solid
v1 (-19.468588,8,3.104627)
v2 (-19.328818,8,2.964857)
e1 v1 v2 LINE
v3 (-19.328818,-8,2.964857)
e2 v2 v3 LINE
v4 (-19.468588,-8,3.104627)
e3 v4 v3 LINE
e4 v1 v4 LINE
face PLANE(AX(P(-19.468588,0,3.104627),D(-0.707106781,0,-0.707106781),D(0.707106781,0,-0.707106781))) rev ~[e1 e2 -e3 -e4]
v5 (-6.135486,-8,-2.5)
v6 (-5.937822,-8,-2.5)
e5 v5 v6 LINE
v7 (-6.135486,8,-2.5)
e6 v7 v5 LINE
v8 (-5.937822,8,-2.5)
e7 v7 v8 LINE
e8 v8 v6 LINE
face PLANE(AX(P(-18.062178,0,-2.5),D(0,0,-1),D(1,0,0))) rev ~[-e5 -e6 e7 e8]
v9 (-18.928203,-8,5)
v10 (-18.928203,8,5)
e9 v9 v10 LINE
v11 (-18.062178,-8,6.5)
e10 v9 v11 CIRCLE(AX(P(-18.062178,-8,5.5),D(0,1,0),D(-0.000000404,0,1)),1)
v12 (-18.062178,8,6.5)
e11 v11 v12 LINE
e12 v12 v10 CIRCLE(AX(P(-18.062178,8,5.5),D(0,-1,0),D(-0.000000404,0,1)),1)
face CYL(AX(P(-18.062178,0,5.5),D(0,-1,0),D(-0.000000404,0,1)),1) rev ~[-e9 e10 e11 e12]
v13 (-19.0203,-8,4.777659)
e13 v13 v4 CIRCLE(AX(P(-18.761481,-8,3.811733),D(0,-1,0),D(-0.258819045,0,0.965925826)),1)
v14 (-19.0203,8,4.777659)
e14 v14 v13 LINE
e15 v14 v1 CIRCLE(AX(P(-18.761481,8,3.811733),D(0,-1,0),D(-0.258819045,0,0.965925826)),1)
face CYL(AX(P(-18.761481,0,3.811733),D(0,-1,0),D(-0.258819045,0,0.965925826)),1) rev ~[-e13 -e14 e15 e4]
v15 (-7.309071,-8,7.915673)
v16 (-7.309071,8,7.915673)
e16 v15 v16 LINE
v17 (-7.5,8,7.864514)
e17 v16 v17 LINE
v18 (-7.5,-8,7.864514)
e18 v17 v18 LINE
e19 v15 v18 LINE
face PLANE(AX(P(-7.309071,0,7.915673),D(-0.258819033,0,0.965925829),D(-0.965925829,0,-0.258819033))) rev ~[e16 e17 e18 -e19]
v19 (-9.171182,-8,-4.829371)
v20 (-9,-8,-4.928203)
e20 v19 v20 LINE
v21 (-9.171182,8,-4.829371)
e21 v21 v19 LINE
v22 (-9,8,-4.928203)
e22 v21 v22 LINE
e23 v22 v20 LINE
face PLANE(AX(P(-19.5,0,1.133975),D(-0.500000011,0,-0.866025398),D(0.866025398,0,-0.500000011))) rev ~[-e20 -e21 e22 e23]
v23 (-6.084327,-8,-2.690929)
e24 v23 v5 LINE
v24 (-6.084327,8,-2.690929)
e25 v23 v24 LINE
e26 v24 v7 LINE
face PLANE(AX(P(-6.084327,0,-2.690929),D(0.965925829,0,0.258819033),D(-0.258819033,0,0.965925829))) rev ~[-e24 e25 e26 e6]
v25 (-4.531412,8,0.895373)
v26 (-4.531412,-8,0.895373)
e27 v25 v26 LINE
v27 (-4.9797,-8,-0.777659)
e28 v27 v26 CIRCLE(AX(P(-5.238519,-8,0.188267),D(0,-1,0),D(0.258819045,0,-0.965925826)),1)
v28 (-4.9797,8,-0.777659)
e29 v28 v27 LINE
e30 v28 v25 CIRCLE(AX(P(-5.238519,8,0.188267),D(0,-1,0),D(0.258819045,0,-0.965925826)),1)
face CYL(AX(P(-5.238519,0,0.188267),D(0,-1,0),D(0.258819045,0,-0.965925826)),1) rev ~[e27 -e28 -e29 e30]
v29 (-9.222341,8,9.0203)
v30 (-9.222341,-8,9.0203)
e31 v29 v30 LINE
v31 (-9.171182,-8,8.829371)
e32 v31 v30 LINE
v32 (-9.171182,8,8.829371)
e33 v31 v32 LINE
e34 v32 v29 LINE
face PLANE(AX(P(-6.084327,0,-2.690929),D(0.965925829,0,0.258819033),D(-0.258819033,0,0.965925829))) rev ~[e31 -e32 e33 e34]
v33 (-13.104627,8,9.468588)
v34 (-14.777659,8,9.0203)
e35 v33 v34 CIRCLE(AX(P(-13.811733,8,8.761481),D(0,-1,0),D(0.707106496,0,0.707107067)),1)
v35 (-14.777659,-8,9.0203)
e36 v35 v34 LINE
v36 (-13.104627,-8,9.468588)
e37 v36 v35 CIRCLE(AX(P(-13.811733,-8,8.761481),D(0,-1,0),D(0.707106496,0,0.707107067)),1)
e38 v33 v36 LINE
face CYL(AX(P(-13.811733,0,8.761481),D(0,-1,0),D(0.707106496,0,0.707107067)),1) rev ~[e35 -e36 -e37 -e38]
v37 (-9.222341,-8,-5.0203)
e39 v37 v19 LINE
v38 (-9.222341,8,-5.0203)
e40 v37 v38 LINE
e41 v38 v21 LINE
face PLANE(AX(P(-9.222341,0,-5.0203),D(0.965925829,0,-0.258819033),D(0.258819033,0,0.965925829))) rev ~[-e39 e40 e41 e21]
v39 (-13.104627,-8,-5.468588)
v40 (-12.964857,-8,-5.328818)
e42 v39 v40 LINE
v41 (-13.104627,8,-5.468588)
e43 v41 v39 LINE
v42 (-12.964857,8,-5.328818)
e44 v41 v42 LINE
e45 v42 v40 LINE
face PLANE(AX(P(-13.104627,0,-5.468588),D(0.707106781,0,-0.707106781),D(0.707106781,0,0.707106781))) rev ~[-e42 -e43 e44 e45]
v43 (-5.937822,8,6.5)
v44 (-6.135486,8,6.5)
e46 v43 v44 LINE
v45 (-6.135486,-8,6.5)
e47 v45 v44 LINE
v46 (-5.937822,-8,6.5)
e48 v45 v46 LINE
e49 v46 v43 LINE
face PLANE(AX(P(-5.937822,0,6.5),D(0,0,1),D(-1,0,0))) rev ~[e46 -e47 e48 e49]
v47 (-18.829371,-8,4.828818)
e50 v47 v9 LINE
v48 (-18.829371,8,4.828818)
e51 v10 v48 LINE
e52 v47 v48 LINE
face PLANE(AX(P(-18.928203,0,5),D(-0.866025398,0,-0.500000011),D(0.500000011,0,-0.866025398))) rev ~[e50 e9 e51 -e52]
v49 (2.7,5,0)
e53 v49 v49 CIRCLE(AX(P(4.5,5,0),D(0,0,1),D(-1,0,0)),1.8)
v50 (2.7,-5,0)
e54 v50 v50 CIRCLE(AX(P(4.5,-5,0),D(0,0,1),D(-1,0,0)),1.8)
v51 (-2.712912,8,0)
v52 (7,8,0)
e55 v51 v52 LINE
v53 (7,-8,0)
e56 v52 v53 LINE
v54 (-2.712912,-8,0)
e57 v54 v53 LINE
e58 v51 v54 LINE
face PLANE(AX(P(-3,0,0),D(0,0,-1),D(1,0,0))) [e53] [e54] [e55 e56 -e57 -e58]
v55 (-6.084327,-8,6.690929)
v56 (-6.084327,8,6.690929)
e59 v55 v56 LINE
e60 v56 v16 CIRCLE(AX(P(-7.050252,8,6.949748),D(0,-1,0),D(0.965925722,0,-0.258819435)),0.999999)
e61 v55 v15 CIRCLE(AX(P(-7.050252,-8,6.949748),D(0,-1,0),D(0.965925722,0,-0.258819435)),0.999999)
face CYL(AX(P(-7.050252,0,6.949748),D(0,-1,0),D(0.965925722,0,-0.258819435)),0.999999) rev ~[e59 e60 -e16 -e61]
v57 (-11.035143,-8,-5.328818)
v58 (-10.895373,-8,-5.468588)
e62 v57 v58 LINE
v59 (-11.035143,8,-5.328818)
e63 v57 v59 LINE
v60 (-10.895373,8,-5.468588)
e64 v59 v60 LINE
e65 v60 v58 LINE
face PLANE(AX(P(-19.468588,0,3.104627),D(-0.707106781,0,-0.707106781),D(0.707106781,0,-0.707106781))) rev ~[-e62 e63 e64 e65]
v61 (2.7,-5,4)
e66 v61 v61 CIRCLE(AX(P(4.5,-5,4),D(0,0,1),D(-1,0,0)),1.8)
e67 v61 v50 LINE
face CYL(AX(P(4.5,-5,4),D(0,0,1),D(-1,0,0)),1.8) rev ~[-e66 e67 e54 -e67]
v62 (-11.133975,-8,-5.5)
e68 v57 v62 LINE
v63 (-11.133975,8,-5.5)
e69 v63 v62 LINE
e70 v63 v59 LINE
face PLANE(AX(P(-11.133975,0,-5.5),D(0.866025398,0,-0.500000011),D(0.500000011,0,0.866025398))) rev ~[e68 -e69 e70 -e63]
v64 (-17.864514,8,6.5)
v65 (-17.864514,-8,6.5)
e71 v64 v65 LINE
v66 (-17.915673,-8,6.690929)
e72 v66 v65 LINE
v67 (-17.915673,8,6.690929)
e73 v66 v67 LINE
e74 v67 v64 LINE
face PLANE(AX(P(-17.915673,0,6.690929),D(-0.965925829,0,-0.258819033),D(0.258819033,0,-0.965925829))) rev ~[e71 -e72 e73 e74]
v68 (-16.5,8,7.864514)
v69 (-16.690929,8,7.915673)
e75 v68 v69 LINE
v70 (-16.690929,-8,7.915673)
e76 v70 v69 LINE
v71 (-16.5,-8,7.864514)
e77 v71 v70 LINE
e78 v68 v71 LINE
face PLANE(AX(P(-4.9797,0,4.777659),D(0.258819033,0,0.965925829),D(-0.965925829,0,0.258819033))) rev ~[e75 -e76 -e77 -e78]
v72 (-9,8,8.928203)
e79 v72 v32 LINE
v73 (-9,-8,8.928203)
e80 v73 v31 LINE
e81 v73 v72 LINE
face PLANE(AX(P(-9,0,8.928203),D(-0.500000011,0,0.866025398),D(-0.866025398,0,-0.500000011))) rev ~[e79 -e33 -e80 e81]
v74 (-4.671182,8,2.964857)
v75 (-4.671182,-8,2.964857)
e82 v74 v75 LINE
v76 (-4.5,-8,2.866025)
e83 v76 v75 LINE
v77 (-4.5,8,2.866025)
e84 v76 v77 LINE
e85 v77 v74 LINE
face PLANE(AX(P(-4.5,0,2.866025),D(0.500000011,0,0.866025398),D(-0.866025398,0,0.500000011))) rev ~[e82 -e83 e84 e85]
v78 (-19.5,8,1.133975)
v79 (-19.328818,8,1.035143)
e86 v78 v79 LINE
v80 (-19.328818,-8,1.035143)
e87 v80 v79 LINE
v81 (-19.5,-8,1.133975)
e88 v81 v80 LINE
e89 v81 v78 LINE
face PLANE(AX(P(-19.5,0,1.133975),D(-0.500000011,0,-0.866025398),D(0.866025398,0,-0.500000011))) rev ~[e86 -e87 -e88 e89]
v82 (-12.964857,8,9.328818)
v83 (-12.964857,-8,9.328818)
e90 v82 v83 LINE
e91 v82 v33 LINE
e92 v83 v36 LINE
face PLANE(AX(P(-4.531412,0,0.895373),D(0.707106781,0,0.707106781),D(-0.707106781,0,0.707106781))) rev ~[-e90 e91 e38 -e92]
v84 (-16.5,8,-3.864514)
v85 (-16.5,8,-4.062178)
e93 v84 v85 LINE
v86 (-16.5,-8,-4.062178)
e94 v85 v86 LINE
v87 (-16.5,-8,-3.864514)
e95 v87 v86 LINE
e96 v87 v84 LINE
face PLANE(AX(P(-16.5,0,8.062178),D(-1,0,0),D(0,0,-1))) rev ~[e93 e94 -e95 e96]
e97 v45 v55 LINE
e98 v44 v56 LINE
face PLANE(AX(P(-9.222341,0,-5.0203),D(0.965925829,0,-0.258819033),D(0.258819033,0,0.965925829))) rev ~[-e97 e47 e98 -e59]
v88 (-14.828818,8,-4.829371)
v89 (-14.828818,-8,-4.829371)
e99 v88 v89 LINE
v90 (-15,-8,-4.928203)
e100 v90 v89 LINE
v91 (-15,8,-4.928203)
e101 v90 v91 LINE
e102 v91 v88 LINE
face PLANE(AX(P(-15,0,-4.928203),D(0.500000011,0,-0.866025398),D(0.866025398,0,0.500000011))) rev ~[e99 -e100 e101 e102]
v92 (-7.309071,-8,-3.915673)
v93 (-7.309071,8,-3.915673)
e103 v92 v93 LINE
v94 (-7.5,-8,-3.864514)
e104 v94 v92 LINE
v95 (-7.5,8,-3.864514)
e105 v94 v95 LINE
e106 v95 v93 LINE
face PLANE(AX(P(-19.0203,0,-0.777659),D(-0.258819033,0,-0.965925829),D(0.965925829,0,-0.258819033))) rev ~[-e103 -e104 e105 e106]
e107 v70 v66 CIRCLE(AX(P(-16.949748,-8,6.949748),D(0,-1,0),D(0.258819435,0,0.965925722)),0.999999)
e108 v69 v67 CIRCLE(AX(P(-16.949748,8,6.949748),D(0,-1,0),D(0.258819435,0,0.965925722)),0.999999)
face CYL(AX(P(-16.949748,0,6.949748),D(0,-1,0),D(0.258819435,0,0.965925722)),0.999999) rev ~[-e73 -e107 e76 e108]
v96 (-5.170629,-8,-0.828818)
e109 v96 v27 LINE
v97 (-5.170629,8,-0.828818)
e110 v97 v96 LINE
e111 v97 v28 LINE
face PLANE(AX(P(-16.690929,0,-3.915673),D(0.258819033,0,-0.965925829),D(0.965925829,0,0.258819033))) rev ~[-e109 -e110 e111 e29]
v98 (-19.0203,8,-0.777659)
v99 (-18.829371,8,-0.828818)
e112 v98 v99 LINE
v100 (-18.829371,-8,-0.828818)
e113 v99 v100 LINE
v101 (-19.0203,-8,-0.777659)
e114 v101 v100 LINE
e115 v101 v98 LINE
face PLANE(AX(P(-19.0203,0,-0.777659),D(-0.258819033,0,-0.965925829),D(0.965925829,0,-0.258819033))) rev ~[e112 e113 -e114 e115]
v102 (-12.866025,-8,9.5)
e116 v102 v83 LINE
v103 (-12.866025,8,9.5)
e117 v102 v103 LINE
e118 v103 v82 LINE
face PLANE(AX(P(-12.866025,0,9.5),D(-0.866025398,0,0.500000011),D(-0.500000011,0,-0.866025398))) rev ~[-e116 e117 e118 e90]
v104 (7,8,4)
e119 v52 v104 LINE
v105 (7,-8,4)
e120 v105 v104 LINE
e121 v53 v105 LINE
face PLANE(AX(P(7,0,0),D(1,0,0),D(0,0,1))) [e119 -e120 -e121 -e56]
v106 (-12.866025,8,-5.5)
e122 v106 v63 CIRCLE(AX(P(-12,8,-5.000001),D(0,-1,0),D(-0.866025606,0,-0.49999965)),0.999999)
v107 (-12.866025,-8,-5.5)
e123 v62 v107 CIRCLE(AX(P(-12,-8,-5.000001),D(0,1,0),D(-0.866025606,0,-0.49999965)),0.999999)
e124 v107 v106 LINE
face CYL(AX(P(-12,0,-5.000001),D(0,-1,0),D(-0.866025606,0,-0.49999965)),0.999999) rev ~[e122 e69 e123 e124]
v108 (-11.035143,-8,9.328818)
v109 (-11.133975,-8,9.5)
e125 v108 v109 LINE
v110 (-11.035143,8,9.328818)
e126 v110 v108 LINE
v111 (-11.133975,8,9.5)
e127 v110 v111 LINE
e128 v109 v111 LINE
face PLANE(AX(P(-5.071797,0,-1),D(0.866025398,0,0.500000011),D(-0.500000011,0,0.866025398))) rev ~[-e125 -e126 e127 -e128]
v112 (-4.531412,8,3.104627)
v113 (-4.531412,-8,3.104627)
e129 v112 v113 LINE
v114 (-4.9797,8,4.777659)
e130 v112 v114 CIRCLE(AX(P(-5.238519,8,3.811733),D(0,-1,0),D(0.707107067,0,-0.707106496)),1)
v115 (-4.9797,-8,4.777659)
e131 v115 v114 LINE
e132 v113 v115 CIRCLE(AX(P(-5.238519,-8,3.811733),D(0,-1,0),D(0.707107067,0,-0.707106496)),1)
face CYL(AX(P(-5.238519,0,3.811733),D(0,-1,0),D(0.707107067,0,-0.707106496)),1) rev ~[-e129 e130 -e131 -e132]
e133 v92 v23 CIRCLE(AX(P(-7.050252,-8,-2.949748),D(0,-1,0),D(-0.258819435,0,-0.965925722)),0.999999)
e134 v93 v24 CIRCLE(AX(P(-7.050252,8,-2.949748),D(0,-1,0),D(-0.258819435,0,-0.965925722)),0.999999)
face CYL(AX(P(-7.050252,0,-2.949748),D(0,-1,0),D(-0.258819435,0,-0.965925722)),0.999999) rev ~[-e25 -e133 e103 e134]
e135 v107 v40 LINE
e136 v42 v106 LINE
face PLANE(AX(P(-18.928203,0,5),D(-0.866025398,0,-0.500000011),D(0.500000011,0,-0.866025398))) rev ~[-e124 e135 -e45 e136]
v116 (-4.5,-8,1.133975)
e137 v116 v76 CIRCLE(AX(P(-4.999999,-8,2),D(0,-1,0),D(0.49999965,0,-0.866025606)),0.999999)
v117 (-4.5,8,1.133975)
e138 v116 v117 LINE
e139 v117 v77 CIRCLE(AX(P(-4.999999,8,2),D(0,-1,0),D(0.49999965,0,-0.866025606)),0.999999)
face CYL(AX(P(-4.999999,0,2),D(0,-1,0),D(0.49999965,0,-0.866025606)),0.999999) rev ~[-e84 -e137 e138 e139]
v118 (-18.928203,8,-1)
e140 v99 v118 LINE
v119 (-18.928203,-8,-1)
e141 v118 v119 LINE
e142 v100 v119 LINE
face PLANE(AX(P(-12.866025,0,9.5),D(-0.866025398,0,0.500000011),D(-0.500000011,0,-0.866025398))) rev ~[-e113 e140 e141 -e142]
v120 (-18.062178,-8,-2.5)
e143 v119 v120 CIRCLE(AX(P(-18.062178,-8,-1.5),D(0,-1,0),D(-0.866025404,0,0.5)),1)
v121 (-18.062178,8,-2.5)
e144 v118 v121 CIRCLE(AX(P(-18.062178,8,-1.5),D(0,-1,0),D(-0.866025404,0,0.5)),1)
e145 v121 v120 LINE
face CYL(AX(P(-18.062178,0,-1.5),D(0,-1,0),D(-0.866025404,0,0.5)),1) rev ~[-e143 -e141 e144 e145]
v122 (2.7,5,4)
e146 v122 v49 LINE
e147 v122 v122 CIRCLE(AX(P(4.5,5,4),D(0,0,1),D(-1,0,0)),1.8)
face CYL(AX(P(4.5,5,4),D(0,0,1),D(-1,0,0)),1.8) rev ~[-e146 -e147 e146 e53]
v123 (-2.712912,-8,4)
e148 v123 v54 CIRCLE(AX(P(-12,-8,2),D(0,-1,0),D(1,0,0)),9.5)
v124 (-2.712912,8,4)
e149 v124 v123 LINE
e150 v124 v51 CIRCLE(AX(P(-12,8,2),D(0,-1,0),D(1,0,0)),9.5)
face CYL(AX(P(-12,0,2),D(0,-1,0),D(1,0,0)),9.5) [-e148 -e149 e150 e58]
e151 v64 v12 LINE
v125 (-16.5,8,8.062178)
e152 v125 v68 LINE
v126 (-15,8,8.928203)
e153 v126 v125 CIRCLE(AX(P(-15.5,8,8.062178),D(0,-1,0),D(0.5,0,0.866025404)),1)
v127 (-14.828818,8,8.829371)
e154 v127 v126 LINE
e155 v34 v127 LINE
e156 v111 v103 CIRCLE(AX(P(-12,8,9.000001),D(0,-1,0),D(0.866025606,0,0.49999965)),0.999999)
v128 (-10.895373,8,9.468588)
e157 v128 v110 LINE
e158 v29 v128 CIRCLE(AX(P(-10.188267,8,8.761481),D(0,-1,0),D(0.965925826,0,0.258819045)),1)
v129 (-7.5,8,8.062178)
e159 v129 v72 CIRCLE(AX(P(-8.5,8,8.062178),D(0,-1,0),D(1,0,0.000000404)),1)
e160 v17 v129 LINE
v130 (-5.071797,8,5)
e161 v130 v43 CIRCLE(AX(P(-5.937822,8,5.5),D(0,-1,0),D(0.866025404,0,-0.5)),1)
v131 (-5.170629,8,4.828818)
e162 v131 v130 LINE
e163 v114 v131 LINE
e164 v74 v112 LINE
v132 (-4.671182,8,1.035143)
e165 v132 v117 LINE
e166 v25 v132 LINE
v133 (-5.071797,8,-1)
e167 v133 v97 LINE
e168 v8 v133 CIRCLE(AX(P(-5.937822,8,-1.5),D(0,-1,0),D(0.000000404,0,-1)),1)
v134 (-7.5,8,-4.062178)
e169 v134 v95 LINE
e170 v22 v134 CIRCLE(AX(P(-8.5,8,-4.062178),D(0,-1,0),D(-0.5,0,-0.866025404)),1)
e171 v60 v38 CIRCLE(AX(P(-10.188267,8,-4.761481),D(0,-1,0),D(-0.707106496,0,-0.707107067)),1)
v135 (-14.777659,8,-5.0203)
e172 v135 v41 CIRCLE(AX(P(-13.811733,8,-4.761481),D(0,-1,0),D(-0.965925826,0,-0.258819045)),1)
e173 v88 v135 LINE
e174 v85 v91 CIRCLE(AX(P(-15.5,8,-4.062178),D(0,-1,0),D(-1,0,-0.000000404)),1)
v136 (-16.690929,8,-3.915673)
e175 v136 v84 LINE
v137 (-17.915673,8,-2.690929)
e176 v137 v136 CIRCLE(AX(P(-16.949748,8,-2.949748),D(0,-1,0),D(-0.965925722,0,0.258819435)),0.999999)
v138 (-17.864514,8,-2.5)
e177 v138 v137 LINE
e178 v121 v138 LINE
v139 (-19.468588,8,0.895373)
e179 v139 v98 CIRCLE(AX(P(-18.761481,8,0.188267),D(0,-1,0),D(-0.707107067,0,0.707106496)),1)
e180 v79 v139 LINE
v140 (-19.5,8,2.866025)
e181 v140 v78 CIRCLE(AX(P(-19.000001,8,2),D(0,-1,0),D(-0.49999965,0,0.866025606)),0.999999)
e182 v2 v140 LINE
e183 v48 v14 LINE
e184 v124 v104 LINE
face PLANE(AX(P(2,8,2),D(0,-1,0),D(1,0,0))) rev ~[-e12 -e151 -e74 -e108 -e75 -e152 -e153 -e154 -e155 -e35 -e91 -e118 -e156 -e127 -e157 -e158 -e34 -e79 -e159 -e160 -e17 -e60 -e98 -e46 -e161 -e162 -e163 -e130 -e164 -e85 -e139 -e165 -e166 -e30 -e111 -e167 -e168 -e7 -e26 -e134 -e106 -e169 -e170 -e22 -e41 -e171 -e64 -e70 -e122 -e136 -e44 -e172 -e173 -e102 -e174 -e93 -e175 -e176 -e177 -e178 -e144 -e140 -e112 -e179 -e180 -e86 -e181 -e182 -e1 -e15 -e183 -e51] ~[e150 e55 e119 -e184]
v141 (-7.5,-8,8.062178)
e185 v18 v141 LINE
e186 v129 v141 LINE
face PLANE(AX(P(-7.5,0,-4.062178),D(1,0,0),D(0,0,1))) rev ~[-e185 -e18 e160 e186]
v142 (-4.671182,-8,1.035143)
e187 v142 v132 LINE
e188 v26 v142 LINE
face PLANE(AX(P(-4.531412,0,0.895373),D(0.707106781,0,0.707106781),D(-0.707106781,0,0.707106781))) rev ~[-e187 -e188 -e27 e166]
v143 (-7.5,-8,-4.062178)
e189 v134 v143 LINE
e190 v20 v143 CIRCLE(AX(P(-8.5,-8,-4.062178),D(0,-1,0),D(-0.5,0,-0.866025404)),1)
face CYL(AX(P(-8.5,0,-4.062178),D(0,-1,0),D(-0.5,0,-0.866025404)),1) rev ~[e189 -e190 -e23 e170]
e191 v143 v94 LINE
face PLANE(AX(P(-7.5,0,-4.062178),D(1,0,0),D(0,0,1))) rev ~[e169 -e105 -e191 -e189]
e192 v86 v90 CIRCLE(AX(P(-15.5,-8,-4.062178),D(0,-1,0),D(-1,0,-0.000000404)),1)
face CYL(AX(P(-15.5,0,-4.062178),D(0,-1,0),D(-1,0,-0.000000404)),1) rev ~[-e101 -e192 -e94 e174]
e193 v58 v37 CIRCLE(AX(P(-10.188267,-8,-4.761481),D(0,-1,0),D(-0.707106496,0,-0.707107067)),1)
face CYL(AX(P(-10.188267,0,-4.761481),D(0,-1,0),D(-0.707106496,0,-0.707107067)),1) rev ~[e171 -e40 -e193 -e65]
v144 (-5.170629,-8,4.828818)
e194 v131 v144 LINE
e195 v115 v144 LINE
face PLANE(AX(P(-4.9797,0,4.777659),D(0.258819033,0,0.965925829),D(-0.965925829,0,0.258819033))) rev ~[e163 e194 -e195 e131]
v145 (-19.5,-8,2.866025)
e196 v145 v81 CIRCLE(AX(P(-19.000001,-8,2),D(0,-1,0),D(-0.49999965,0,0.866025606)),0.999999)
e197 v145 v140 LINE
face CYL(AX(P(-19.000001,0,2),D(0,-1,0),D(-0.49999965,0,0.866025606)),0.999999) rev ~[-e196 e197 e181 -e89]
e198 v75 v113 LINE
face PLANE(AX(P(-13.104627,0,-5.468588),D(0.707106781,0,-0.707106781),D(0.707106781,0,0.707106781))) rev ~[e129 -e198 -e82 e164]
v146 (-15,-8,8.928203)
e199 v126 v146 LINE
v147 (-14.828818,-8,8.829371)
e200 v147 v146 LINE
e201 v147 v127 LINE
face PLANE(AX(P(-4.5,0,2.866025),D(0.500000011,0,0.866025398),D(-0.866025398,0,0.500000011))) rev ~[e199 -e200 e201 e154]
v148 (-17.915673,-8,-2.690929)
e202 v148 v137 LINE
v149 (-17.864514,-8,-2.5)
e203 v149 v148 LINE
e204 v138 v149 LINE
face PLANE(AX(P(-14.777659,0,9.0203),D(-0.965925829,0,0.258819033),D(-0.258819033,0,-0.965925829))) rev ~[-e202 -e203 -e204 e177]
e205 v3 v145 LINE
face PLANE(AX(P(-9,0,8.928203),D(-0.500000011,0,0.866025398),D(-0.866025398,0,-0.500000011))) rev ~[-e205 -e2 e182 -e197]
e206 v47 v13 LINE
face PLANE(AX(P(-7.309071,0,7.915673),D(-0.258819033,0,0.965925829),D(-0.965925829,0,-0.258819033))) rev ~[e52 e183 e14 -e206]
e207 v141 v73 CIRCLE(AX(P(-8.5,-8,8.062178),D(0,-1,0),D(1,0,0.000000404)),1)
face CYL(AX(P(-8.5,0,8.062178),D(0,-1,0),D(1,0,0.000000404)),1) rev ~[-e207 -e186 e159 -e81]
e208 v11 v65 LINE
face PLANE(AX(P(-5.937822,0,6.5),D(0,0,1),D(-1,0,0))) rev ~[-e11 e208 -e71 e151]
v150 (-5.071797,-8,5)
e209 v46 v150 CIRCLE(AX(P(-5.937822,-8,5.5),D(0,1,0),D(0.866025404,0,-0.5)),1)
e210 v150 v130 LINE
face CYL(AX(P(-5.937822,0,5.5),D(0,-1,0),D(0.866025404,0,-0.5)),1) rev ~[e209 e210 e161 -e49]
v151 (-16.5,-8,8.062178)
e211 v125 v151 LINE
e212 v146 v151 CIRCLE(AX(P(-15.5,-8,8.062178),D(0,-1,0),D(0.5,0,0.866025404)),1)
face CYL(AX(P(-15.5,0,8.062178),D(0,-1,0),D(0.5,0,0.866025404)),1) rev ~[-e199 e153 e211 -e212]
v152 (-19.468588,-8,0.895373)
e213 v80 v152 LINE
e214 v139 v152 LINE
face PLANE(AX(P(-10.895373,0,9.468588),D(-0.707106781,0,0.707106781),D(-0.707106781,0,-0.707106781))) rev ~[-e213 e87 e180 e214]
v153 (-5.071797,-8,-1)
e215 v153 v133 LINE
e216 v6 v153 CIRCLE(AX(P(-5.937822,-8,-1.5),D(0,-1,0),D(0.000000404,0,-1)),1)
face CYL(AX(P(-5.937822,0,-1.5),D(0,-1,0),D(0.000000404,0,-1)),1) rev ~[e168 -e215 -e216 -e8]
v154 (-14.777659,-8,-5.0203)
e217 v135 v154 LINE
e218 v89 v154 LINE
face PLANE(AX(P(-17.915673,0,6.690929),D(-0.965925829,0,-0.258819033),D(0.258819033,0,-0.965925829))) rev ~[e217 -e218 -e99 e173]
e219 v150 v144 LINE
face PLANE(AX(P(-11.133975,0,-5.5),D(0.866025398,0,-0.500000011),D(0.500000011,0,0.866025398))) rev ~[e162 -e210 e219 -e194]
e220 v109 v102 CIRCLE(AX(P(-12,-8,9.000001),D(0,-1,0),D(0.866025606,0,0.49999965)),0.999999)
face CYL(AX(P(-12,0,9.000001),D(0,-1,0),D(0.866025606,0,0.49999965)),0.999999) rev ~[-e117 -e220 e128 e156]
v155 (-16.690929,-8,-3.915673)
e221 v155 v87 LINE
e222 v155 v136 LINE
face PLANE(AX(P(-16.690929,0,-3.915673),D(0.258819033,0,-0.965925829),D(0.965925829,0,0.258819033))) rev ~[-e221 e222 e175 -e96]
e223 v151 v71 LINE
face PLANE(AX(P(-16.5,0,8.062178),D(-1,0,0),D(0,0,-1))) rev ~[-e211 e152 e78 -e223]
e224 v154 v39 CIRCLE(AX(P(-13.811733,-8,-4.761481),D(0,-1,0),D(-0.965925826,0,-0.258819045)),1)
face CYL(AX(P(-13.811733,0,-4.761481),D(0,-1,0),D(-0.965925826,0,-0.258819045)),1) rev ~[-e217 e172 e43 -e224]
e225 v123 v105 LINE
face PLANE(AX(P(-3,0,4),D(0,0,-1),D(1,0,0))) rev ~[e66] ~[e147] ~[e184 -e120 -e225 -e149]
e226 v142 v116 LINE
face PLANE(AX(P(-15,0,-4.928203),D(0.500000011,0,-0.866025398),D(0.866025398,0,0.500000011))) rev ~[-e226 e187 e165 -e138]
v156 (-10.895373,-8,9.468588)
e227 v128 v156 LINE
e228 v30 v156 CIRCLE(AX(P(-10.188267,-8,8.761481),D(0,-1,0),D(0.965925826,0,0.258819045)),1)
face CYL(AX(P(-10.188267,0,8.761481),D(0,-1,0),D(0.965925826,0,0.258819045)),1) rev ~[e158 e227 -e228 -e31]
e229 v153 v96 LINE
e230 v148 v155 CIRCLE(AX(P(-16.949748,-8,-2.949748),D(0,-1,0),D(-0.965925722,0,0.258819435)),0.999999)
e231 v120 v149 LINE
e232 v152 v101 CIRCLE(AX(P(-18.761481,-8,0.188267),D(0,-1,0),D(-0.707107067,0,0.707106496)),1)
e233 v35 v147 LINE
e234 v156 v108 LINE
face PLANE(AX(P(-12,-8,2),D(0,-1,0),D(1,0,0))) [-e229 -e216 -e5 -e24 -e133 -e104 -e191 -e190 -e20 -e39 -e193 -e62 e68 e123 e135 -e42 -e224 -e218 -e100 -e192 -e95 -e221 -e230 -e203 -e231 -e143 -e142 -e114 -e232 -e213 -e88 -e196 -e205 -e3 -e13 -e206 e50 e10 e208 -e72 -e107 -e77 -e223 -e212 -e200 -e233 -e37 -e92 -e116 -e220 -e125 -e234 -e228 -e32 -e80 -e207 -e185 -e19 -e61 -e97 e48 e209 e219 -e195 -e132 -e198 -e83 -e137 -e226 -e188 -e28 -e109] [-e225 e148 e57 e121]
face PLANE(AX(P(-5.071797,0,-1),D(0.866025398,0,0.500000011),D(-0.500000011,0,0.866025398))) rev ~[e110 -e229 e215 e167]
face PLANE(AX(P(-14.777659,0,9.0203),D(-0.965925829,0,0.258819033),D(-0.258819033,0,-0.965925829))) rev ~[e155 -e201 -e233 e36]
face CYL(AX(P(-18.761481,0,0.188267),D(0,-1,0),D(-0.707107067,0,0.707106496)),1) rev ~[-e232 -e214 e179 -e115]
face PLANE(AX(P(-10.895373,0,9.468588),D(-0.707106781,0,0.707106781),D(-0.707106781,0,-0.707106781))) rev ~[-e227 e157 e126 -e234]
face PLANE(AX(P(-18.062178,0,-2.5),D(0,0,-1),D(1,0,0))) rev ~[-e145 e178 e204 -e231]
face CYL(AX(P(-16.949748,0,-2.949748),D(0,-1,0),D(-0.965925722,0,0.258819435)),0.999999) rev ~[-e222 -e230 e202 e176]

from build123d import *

# Parameters (mm, degrees)
SKETCH079_R          = 9.5
PAD028_DEPTH         = 8
POCKET026_DEPTH      = 70.546983
POCKET026_DEPTH_BACK = 70.546983
POLARPATTERN_COUNT   = 8
SKETCH081_W          = 10
SKETCH081_H          = 4
PAD030_DEPTH         = 8
SKETCH082_R          = 1.8
POCKET_DEPTH         = 11.501


with BuildPart() as part:
    # Sketch079 → Pad028 (new body, symmetric)
    with BuildSketch(Plane.XZ):
        Circle(SKETCH079_R)
    extrude(amount=PAD028_DEPTH, both=True)

    # Sketch078 → Pocket026 (cut, two sides)
    with BuildSketch(Plane.XZ) as pocket026_sk:
        with BuildLine():
            Line((0.866025, -7.5), (6.928203, 3))
            ThreePointArc((6.928203, 3), (6.928203, 4), (6.062178, 4.5))
            Line((6.062178, 4.5), (-6.062178, 4.5))
            ThreePointArc((-6.062178, 4.5), (-6.928203, 4), (-6.928203, 3))
            Line((-6.928203, 3), (-0.866025, -7.5))
            ThreePointArc((-0.866025, -7.5), (0, -8), (0.866025, -7.5))
        make_face()
    pocket026 = extrude(amount=-POCKET026_DEPTH, mode=Mode.SUBTRACT) + extrude(pocket026_sk.sketch, amount=POCKET026_DEPTH_BACK, mode=Mode.SUBTRACT)

    # PolarPattern: Pocket026 ×8 about axis
    polarpattern_axis = Axis((0, 0, 0), (0, 1, 0))
    for i in range(1, POLARPATTERN_COUNT):
        add(pocket026.rotate(polarpattern_axis, i * 360 / POLARPATTERN_COUNT), mode=Mode.SUBTRACT)

    # Sketch081 → Pad030 (join, symmetric)
    with BuildSketch(Plane.XZ):
        with Locations((14, 0)):
            Rectangle(SKETCH081_W, SKETCH081_H)
    extrude(amount=PAD030_DEPTH, both=True)

    # Sketch082 (on Face6 of Pad030) → Pocket (cut, through all)
    with BuildSketch(Plane(origin=(0, 0, 2), x_dir=(-1, 0, 0), z_dir=(0, 0, 1))):
        with Locations((-16.5, 5)):
            Circle(SKETCH082_R)
        with Locations((-16.5, -5)):
            Circle(SKETCH082_R)
    extrude(amount=-POCKET_DEPTH, mode=Mode.SUBTRACT)


with BuildPart() as part_1:
    # Body011 placement: moved
    add(part.part.moved(Location((-12, 0, 2))))


solid = part_1.part
